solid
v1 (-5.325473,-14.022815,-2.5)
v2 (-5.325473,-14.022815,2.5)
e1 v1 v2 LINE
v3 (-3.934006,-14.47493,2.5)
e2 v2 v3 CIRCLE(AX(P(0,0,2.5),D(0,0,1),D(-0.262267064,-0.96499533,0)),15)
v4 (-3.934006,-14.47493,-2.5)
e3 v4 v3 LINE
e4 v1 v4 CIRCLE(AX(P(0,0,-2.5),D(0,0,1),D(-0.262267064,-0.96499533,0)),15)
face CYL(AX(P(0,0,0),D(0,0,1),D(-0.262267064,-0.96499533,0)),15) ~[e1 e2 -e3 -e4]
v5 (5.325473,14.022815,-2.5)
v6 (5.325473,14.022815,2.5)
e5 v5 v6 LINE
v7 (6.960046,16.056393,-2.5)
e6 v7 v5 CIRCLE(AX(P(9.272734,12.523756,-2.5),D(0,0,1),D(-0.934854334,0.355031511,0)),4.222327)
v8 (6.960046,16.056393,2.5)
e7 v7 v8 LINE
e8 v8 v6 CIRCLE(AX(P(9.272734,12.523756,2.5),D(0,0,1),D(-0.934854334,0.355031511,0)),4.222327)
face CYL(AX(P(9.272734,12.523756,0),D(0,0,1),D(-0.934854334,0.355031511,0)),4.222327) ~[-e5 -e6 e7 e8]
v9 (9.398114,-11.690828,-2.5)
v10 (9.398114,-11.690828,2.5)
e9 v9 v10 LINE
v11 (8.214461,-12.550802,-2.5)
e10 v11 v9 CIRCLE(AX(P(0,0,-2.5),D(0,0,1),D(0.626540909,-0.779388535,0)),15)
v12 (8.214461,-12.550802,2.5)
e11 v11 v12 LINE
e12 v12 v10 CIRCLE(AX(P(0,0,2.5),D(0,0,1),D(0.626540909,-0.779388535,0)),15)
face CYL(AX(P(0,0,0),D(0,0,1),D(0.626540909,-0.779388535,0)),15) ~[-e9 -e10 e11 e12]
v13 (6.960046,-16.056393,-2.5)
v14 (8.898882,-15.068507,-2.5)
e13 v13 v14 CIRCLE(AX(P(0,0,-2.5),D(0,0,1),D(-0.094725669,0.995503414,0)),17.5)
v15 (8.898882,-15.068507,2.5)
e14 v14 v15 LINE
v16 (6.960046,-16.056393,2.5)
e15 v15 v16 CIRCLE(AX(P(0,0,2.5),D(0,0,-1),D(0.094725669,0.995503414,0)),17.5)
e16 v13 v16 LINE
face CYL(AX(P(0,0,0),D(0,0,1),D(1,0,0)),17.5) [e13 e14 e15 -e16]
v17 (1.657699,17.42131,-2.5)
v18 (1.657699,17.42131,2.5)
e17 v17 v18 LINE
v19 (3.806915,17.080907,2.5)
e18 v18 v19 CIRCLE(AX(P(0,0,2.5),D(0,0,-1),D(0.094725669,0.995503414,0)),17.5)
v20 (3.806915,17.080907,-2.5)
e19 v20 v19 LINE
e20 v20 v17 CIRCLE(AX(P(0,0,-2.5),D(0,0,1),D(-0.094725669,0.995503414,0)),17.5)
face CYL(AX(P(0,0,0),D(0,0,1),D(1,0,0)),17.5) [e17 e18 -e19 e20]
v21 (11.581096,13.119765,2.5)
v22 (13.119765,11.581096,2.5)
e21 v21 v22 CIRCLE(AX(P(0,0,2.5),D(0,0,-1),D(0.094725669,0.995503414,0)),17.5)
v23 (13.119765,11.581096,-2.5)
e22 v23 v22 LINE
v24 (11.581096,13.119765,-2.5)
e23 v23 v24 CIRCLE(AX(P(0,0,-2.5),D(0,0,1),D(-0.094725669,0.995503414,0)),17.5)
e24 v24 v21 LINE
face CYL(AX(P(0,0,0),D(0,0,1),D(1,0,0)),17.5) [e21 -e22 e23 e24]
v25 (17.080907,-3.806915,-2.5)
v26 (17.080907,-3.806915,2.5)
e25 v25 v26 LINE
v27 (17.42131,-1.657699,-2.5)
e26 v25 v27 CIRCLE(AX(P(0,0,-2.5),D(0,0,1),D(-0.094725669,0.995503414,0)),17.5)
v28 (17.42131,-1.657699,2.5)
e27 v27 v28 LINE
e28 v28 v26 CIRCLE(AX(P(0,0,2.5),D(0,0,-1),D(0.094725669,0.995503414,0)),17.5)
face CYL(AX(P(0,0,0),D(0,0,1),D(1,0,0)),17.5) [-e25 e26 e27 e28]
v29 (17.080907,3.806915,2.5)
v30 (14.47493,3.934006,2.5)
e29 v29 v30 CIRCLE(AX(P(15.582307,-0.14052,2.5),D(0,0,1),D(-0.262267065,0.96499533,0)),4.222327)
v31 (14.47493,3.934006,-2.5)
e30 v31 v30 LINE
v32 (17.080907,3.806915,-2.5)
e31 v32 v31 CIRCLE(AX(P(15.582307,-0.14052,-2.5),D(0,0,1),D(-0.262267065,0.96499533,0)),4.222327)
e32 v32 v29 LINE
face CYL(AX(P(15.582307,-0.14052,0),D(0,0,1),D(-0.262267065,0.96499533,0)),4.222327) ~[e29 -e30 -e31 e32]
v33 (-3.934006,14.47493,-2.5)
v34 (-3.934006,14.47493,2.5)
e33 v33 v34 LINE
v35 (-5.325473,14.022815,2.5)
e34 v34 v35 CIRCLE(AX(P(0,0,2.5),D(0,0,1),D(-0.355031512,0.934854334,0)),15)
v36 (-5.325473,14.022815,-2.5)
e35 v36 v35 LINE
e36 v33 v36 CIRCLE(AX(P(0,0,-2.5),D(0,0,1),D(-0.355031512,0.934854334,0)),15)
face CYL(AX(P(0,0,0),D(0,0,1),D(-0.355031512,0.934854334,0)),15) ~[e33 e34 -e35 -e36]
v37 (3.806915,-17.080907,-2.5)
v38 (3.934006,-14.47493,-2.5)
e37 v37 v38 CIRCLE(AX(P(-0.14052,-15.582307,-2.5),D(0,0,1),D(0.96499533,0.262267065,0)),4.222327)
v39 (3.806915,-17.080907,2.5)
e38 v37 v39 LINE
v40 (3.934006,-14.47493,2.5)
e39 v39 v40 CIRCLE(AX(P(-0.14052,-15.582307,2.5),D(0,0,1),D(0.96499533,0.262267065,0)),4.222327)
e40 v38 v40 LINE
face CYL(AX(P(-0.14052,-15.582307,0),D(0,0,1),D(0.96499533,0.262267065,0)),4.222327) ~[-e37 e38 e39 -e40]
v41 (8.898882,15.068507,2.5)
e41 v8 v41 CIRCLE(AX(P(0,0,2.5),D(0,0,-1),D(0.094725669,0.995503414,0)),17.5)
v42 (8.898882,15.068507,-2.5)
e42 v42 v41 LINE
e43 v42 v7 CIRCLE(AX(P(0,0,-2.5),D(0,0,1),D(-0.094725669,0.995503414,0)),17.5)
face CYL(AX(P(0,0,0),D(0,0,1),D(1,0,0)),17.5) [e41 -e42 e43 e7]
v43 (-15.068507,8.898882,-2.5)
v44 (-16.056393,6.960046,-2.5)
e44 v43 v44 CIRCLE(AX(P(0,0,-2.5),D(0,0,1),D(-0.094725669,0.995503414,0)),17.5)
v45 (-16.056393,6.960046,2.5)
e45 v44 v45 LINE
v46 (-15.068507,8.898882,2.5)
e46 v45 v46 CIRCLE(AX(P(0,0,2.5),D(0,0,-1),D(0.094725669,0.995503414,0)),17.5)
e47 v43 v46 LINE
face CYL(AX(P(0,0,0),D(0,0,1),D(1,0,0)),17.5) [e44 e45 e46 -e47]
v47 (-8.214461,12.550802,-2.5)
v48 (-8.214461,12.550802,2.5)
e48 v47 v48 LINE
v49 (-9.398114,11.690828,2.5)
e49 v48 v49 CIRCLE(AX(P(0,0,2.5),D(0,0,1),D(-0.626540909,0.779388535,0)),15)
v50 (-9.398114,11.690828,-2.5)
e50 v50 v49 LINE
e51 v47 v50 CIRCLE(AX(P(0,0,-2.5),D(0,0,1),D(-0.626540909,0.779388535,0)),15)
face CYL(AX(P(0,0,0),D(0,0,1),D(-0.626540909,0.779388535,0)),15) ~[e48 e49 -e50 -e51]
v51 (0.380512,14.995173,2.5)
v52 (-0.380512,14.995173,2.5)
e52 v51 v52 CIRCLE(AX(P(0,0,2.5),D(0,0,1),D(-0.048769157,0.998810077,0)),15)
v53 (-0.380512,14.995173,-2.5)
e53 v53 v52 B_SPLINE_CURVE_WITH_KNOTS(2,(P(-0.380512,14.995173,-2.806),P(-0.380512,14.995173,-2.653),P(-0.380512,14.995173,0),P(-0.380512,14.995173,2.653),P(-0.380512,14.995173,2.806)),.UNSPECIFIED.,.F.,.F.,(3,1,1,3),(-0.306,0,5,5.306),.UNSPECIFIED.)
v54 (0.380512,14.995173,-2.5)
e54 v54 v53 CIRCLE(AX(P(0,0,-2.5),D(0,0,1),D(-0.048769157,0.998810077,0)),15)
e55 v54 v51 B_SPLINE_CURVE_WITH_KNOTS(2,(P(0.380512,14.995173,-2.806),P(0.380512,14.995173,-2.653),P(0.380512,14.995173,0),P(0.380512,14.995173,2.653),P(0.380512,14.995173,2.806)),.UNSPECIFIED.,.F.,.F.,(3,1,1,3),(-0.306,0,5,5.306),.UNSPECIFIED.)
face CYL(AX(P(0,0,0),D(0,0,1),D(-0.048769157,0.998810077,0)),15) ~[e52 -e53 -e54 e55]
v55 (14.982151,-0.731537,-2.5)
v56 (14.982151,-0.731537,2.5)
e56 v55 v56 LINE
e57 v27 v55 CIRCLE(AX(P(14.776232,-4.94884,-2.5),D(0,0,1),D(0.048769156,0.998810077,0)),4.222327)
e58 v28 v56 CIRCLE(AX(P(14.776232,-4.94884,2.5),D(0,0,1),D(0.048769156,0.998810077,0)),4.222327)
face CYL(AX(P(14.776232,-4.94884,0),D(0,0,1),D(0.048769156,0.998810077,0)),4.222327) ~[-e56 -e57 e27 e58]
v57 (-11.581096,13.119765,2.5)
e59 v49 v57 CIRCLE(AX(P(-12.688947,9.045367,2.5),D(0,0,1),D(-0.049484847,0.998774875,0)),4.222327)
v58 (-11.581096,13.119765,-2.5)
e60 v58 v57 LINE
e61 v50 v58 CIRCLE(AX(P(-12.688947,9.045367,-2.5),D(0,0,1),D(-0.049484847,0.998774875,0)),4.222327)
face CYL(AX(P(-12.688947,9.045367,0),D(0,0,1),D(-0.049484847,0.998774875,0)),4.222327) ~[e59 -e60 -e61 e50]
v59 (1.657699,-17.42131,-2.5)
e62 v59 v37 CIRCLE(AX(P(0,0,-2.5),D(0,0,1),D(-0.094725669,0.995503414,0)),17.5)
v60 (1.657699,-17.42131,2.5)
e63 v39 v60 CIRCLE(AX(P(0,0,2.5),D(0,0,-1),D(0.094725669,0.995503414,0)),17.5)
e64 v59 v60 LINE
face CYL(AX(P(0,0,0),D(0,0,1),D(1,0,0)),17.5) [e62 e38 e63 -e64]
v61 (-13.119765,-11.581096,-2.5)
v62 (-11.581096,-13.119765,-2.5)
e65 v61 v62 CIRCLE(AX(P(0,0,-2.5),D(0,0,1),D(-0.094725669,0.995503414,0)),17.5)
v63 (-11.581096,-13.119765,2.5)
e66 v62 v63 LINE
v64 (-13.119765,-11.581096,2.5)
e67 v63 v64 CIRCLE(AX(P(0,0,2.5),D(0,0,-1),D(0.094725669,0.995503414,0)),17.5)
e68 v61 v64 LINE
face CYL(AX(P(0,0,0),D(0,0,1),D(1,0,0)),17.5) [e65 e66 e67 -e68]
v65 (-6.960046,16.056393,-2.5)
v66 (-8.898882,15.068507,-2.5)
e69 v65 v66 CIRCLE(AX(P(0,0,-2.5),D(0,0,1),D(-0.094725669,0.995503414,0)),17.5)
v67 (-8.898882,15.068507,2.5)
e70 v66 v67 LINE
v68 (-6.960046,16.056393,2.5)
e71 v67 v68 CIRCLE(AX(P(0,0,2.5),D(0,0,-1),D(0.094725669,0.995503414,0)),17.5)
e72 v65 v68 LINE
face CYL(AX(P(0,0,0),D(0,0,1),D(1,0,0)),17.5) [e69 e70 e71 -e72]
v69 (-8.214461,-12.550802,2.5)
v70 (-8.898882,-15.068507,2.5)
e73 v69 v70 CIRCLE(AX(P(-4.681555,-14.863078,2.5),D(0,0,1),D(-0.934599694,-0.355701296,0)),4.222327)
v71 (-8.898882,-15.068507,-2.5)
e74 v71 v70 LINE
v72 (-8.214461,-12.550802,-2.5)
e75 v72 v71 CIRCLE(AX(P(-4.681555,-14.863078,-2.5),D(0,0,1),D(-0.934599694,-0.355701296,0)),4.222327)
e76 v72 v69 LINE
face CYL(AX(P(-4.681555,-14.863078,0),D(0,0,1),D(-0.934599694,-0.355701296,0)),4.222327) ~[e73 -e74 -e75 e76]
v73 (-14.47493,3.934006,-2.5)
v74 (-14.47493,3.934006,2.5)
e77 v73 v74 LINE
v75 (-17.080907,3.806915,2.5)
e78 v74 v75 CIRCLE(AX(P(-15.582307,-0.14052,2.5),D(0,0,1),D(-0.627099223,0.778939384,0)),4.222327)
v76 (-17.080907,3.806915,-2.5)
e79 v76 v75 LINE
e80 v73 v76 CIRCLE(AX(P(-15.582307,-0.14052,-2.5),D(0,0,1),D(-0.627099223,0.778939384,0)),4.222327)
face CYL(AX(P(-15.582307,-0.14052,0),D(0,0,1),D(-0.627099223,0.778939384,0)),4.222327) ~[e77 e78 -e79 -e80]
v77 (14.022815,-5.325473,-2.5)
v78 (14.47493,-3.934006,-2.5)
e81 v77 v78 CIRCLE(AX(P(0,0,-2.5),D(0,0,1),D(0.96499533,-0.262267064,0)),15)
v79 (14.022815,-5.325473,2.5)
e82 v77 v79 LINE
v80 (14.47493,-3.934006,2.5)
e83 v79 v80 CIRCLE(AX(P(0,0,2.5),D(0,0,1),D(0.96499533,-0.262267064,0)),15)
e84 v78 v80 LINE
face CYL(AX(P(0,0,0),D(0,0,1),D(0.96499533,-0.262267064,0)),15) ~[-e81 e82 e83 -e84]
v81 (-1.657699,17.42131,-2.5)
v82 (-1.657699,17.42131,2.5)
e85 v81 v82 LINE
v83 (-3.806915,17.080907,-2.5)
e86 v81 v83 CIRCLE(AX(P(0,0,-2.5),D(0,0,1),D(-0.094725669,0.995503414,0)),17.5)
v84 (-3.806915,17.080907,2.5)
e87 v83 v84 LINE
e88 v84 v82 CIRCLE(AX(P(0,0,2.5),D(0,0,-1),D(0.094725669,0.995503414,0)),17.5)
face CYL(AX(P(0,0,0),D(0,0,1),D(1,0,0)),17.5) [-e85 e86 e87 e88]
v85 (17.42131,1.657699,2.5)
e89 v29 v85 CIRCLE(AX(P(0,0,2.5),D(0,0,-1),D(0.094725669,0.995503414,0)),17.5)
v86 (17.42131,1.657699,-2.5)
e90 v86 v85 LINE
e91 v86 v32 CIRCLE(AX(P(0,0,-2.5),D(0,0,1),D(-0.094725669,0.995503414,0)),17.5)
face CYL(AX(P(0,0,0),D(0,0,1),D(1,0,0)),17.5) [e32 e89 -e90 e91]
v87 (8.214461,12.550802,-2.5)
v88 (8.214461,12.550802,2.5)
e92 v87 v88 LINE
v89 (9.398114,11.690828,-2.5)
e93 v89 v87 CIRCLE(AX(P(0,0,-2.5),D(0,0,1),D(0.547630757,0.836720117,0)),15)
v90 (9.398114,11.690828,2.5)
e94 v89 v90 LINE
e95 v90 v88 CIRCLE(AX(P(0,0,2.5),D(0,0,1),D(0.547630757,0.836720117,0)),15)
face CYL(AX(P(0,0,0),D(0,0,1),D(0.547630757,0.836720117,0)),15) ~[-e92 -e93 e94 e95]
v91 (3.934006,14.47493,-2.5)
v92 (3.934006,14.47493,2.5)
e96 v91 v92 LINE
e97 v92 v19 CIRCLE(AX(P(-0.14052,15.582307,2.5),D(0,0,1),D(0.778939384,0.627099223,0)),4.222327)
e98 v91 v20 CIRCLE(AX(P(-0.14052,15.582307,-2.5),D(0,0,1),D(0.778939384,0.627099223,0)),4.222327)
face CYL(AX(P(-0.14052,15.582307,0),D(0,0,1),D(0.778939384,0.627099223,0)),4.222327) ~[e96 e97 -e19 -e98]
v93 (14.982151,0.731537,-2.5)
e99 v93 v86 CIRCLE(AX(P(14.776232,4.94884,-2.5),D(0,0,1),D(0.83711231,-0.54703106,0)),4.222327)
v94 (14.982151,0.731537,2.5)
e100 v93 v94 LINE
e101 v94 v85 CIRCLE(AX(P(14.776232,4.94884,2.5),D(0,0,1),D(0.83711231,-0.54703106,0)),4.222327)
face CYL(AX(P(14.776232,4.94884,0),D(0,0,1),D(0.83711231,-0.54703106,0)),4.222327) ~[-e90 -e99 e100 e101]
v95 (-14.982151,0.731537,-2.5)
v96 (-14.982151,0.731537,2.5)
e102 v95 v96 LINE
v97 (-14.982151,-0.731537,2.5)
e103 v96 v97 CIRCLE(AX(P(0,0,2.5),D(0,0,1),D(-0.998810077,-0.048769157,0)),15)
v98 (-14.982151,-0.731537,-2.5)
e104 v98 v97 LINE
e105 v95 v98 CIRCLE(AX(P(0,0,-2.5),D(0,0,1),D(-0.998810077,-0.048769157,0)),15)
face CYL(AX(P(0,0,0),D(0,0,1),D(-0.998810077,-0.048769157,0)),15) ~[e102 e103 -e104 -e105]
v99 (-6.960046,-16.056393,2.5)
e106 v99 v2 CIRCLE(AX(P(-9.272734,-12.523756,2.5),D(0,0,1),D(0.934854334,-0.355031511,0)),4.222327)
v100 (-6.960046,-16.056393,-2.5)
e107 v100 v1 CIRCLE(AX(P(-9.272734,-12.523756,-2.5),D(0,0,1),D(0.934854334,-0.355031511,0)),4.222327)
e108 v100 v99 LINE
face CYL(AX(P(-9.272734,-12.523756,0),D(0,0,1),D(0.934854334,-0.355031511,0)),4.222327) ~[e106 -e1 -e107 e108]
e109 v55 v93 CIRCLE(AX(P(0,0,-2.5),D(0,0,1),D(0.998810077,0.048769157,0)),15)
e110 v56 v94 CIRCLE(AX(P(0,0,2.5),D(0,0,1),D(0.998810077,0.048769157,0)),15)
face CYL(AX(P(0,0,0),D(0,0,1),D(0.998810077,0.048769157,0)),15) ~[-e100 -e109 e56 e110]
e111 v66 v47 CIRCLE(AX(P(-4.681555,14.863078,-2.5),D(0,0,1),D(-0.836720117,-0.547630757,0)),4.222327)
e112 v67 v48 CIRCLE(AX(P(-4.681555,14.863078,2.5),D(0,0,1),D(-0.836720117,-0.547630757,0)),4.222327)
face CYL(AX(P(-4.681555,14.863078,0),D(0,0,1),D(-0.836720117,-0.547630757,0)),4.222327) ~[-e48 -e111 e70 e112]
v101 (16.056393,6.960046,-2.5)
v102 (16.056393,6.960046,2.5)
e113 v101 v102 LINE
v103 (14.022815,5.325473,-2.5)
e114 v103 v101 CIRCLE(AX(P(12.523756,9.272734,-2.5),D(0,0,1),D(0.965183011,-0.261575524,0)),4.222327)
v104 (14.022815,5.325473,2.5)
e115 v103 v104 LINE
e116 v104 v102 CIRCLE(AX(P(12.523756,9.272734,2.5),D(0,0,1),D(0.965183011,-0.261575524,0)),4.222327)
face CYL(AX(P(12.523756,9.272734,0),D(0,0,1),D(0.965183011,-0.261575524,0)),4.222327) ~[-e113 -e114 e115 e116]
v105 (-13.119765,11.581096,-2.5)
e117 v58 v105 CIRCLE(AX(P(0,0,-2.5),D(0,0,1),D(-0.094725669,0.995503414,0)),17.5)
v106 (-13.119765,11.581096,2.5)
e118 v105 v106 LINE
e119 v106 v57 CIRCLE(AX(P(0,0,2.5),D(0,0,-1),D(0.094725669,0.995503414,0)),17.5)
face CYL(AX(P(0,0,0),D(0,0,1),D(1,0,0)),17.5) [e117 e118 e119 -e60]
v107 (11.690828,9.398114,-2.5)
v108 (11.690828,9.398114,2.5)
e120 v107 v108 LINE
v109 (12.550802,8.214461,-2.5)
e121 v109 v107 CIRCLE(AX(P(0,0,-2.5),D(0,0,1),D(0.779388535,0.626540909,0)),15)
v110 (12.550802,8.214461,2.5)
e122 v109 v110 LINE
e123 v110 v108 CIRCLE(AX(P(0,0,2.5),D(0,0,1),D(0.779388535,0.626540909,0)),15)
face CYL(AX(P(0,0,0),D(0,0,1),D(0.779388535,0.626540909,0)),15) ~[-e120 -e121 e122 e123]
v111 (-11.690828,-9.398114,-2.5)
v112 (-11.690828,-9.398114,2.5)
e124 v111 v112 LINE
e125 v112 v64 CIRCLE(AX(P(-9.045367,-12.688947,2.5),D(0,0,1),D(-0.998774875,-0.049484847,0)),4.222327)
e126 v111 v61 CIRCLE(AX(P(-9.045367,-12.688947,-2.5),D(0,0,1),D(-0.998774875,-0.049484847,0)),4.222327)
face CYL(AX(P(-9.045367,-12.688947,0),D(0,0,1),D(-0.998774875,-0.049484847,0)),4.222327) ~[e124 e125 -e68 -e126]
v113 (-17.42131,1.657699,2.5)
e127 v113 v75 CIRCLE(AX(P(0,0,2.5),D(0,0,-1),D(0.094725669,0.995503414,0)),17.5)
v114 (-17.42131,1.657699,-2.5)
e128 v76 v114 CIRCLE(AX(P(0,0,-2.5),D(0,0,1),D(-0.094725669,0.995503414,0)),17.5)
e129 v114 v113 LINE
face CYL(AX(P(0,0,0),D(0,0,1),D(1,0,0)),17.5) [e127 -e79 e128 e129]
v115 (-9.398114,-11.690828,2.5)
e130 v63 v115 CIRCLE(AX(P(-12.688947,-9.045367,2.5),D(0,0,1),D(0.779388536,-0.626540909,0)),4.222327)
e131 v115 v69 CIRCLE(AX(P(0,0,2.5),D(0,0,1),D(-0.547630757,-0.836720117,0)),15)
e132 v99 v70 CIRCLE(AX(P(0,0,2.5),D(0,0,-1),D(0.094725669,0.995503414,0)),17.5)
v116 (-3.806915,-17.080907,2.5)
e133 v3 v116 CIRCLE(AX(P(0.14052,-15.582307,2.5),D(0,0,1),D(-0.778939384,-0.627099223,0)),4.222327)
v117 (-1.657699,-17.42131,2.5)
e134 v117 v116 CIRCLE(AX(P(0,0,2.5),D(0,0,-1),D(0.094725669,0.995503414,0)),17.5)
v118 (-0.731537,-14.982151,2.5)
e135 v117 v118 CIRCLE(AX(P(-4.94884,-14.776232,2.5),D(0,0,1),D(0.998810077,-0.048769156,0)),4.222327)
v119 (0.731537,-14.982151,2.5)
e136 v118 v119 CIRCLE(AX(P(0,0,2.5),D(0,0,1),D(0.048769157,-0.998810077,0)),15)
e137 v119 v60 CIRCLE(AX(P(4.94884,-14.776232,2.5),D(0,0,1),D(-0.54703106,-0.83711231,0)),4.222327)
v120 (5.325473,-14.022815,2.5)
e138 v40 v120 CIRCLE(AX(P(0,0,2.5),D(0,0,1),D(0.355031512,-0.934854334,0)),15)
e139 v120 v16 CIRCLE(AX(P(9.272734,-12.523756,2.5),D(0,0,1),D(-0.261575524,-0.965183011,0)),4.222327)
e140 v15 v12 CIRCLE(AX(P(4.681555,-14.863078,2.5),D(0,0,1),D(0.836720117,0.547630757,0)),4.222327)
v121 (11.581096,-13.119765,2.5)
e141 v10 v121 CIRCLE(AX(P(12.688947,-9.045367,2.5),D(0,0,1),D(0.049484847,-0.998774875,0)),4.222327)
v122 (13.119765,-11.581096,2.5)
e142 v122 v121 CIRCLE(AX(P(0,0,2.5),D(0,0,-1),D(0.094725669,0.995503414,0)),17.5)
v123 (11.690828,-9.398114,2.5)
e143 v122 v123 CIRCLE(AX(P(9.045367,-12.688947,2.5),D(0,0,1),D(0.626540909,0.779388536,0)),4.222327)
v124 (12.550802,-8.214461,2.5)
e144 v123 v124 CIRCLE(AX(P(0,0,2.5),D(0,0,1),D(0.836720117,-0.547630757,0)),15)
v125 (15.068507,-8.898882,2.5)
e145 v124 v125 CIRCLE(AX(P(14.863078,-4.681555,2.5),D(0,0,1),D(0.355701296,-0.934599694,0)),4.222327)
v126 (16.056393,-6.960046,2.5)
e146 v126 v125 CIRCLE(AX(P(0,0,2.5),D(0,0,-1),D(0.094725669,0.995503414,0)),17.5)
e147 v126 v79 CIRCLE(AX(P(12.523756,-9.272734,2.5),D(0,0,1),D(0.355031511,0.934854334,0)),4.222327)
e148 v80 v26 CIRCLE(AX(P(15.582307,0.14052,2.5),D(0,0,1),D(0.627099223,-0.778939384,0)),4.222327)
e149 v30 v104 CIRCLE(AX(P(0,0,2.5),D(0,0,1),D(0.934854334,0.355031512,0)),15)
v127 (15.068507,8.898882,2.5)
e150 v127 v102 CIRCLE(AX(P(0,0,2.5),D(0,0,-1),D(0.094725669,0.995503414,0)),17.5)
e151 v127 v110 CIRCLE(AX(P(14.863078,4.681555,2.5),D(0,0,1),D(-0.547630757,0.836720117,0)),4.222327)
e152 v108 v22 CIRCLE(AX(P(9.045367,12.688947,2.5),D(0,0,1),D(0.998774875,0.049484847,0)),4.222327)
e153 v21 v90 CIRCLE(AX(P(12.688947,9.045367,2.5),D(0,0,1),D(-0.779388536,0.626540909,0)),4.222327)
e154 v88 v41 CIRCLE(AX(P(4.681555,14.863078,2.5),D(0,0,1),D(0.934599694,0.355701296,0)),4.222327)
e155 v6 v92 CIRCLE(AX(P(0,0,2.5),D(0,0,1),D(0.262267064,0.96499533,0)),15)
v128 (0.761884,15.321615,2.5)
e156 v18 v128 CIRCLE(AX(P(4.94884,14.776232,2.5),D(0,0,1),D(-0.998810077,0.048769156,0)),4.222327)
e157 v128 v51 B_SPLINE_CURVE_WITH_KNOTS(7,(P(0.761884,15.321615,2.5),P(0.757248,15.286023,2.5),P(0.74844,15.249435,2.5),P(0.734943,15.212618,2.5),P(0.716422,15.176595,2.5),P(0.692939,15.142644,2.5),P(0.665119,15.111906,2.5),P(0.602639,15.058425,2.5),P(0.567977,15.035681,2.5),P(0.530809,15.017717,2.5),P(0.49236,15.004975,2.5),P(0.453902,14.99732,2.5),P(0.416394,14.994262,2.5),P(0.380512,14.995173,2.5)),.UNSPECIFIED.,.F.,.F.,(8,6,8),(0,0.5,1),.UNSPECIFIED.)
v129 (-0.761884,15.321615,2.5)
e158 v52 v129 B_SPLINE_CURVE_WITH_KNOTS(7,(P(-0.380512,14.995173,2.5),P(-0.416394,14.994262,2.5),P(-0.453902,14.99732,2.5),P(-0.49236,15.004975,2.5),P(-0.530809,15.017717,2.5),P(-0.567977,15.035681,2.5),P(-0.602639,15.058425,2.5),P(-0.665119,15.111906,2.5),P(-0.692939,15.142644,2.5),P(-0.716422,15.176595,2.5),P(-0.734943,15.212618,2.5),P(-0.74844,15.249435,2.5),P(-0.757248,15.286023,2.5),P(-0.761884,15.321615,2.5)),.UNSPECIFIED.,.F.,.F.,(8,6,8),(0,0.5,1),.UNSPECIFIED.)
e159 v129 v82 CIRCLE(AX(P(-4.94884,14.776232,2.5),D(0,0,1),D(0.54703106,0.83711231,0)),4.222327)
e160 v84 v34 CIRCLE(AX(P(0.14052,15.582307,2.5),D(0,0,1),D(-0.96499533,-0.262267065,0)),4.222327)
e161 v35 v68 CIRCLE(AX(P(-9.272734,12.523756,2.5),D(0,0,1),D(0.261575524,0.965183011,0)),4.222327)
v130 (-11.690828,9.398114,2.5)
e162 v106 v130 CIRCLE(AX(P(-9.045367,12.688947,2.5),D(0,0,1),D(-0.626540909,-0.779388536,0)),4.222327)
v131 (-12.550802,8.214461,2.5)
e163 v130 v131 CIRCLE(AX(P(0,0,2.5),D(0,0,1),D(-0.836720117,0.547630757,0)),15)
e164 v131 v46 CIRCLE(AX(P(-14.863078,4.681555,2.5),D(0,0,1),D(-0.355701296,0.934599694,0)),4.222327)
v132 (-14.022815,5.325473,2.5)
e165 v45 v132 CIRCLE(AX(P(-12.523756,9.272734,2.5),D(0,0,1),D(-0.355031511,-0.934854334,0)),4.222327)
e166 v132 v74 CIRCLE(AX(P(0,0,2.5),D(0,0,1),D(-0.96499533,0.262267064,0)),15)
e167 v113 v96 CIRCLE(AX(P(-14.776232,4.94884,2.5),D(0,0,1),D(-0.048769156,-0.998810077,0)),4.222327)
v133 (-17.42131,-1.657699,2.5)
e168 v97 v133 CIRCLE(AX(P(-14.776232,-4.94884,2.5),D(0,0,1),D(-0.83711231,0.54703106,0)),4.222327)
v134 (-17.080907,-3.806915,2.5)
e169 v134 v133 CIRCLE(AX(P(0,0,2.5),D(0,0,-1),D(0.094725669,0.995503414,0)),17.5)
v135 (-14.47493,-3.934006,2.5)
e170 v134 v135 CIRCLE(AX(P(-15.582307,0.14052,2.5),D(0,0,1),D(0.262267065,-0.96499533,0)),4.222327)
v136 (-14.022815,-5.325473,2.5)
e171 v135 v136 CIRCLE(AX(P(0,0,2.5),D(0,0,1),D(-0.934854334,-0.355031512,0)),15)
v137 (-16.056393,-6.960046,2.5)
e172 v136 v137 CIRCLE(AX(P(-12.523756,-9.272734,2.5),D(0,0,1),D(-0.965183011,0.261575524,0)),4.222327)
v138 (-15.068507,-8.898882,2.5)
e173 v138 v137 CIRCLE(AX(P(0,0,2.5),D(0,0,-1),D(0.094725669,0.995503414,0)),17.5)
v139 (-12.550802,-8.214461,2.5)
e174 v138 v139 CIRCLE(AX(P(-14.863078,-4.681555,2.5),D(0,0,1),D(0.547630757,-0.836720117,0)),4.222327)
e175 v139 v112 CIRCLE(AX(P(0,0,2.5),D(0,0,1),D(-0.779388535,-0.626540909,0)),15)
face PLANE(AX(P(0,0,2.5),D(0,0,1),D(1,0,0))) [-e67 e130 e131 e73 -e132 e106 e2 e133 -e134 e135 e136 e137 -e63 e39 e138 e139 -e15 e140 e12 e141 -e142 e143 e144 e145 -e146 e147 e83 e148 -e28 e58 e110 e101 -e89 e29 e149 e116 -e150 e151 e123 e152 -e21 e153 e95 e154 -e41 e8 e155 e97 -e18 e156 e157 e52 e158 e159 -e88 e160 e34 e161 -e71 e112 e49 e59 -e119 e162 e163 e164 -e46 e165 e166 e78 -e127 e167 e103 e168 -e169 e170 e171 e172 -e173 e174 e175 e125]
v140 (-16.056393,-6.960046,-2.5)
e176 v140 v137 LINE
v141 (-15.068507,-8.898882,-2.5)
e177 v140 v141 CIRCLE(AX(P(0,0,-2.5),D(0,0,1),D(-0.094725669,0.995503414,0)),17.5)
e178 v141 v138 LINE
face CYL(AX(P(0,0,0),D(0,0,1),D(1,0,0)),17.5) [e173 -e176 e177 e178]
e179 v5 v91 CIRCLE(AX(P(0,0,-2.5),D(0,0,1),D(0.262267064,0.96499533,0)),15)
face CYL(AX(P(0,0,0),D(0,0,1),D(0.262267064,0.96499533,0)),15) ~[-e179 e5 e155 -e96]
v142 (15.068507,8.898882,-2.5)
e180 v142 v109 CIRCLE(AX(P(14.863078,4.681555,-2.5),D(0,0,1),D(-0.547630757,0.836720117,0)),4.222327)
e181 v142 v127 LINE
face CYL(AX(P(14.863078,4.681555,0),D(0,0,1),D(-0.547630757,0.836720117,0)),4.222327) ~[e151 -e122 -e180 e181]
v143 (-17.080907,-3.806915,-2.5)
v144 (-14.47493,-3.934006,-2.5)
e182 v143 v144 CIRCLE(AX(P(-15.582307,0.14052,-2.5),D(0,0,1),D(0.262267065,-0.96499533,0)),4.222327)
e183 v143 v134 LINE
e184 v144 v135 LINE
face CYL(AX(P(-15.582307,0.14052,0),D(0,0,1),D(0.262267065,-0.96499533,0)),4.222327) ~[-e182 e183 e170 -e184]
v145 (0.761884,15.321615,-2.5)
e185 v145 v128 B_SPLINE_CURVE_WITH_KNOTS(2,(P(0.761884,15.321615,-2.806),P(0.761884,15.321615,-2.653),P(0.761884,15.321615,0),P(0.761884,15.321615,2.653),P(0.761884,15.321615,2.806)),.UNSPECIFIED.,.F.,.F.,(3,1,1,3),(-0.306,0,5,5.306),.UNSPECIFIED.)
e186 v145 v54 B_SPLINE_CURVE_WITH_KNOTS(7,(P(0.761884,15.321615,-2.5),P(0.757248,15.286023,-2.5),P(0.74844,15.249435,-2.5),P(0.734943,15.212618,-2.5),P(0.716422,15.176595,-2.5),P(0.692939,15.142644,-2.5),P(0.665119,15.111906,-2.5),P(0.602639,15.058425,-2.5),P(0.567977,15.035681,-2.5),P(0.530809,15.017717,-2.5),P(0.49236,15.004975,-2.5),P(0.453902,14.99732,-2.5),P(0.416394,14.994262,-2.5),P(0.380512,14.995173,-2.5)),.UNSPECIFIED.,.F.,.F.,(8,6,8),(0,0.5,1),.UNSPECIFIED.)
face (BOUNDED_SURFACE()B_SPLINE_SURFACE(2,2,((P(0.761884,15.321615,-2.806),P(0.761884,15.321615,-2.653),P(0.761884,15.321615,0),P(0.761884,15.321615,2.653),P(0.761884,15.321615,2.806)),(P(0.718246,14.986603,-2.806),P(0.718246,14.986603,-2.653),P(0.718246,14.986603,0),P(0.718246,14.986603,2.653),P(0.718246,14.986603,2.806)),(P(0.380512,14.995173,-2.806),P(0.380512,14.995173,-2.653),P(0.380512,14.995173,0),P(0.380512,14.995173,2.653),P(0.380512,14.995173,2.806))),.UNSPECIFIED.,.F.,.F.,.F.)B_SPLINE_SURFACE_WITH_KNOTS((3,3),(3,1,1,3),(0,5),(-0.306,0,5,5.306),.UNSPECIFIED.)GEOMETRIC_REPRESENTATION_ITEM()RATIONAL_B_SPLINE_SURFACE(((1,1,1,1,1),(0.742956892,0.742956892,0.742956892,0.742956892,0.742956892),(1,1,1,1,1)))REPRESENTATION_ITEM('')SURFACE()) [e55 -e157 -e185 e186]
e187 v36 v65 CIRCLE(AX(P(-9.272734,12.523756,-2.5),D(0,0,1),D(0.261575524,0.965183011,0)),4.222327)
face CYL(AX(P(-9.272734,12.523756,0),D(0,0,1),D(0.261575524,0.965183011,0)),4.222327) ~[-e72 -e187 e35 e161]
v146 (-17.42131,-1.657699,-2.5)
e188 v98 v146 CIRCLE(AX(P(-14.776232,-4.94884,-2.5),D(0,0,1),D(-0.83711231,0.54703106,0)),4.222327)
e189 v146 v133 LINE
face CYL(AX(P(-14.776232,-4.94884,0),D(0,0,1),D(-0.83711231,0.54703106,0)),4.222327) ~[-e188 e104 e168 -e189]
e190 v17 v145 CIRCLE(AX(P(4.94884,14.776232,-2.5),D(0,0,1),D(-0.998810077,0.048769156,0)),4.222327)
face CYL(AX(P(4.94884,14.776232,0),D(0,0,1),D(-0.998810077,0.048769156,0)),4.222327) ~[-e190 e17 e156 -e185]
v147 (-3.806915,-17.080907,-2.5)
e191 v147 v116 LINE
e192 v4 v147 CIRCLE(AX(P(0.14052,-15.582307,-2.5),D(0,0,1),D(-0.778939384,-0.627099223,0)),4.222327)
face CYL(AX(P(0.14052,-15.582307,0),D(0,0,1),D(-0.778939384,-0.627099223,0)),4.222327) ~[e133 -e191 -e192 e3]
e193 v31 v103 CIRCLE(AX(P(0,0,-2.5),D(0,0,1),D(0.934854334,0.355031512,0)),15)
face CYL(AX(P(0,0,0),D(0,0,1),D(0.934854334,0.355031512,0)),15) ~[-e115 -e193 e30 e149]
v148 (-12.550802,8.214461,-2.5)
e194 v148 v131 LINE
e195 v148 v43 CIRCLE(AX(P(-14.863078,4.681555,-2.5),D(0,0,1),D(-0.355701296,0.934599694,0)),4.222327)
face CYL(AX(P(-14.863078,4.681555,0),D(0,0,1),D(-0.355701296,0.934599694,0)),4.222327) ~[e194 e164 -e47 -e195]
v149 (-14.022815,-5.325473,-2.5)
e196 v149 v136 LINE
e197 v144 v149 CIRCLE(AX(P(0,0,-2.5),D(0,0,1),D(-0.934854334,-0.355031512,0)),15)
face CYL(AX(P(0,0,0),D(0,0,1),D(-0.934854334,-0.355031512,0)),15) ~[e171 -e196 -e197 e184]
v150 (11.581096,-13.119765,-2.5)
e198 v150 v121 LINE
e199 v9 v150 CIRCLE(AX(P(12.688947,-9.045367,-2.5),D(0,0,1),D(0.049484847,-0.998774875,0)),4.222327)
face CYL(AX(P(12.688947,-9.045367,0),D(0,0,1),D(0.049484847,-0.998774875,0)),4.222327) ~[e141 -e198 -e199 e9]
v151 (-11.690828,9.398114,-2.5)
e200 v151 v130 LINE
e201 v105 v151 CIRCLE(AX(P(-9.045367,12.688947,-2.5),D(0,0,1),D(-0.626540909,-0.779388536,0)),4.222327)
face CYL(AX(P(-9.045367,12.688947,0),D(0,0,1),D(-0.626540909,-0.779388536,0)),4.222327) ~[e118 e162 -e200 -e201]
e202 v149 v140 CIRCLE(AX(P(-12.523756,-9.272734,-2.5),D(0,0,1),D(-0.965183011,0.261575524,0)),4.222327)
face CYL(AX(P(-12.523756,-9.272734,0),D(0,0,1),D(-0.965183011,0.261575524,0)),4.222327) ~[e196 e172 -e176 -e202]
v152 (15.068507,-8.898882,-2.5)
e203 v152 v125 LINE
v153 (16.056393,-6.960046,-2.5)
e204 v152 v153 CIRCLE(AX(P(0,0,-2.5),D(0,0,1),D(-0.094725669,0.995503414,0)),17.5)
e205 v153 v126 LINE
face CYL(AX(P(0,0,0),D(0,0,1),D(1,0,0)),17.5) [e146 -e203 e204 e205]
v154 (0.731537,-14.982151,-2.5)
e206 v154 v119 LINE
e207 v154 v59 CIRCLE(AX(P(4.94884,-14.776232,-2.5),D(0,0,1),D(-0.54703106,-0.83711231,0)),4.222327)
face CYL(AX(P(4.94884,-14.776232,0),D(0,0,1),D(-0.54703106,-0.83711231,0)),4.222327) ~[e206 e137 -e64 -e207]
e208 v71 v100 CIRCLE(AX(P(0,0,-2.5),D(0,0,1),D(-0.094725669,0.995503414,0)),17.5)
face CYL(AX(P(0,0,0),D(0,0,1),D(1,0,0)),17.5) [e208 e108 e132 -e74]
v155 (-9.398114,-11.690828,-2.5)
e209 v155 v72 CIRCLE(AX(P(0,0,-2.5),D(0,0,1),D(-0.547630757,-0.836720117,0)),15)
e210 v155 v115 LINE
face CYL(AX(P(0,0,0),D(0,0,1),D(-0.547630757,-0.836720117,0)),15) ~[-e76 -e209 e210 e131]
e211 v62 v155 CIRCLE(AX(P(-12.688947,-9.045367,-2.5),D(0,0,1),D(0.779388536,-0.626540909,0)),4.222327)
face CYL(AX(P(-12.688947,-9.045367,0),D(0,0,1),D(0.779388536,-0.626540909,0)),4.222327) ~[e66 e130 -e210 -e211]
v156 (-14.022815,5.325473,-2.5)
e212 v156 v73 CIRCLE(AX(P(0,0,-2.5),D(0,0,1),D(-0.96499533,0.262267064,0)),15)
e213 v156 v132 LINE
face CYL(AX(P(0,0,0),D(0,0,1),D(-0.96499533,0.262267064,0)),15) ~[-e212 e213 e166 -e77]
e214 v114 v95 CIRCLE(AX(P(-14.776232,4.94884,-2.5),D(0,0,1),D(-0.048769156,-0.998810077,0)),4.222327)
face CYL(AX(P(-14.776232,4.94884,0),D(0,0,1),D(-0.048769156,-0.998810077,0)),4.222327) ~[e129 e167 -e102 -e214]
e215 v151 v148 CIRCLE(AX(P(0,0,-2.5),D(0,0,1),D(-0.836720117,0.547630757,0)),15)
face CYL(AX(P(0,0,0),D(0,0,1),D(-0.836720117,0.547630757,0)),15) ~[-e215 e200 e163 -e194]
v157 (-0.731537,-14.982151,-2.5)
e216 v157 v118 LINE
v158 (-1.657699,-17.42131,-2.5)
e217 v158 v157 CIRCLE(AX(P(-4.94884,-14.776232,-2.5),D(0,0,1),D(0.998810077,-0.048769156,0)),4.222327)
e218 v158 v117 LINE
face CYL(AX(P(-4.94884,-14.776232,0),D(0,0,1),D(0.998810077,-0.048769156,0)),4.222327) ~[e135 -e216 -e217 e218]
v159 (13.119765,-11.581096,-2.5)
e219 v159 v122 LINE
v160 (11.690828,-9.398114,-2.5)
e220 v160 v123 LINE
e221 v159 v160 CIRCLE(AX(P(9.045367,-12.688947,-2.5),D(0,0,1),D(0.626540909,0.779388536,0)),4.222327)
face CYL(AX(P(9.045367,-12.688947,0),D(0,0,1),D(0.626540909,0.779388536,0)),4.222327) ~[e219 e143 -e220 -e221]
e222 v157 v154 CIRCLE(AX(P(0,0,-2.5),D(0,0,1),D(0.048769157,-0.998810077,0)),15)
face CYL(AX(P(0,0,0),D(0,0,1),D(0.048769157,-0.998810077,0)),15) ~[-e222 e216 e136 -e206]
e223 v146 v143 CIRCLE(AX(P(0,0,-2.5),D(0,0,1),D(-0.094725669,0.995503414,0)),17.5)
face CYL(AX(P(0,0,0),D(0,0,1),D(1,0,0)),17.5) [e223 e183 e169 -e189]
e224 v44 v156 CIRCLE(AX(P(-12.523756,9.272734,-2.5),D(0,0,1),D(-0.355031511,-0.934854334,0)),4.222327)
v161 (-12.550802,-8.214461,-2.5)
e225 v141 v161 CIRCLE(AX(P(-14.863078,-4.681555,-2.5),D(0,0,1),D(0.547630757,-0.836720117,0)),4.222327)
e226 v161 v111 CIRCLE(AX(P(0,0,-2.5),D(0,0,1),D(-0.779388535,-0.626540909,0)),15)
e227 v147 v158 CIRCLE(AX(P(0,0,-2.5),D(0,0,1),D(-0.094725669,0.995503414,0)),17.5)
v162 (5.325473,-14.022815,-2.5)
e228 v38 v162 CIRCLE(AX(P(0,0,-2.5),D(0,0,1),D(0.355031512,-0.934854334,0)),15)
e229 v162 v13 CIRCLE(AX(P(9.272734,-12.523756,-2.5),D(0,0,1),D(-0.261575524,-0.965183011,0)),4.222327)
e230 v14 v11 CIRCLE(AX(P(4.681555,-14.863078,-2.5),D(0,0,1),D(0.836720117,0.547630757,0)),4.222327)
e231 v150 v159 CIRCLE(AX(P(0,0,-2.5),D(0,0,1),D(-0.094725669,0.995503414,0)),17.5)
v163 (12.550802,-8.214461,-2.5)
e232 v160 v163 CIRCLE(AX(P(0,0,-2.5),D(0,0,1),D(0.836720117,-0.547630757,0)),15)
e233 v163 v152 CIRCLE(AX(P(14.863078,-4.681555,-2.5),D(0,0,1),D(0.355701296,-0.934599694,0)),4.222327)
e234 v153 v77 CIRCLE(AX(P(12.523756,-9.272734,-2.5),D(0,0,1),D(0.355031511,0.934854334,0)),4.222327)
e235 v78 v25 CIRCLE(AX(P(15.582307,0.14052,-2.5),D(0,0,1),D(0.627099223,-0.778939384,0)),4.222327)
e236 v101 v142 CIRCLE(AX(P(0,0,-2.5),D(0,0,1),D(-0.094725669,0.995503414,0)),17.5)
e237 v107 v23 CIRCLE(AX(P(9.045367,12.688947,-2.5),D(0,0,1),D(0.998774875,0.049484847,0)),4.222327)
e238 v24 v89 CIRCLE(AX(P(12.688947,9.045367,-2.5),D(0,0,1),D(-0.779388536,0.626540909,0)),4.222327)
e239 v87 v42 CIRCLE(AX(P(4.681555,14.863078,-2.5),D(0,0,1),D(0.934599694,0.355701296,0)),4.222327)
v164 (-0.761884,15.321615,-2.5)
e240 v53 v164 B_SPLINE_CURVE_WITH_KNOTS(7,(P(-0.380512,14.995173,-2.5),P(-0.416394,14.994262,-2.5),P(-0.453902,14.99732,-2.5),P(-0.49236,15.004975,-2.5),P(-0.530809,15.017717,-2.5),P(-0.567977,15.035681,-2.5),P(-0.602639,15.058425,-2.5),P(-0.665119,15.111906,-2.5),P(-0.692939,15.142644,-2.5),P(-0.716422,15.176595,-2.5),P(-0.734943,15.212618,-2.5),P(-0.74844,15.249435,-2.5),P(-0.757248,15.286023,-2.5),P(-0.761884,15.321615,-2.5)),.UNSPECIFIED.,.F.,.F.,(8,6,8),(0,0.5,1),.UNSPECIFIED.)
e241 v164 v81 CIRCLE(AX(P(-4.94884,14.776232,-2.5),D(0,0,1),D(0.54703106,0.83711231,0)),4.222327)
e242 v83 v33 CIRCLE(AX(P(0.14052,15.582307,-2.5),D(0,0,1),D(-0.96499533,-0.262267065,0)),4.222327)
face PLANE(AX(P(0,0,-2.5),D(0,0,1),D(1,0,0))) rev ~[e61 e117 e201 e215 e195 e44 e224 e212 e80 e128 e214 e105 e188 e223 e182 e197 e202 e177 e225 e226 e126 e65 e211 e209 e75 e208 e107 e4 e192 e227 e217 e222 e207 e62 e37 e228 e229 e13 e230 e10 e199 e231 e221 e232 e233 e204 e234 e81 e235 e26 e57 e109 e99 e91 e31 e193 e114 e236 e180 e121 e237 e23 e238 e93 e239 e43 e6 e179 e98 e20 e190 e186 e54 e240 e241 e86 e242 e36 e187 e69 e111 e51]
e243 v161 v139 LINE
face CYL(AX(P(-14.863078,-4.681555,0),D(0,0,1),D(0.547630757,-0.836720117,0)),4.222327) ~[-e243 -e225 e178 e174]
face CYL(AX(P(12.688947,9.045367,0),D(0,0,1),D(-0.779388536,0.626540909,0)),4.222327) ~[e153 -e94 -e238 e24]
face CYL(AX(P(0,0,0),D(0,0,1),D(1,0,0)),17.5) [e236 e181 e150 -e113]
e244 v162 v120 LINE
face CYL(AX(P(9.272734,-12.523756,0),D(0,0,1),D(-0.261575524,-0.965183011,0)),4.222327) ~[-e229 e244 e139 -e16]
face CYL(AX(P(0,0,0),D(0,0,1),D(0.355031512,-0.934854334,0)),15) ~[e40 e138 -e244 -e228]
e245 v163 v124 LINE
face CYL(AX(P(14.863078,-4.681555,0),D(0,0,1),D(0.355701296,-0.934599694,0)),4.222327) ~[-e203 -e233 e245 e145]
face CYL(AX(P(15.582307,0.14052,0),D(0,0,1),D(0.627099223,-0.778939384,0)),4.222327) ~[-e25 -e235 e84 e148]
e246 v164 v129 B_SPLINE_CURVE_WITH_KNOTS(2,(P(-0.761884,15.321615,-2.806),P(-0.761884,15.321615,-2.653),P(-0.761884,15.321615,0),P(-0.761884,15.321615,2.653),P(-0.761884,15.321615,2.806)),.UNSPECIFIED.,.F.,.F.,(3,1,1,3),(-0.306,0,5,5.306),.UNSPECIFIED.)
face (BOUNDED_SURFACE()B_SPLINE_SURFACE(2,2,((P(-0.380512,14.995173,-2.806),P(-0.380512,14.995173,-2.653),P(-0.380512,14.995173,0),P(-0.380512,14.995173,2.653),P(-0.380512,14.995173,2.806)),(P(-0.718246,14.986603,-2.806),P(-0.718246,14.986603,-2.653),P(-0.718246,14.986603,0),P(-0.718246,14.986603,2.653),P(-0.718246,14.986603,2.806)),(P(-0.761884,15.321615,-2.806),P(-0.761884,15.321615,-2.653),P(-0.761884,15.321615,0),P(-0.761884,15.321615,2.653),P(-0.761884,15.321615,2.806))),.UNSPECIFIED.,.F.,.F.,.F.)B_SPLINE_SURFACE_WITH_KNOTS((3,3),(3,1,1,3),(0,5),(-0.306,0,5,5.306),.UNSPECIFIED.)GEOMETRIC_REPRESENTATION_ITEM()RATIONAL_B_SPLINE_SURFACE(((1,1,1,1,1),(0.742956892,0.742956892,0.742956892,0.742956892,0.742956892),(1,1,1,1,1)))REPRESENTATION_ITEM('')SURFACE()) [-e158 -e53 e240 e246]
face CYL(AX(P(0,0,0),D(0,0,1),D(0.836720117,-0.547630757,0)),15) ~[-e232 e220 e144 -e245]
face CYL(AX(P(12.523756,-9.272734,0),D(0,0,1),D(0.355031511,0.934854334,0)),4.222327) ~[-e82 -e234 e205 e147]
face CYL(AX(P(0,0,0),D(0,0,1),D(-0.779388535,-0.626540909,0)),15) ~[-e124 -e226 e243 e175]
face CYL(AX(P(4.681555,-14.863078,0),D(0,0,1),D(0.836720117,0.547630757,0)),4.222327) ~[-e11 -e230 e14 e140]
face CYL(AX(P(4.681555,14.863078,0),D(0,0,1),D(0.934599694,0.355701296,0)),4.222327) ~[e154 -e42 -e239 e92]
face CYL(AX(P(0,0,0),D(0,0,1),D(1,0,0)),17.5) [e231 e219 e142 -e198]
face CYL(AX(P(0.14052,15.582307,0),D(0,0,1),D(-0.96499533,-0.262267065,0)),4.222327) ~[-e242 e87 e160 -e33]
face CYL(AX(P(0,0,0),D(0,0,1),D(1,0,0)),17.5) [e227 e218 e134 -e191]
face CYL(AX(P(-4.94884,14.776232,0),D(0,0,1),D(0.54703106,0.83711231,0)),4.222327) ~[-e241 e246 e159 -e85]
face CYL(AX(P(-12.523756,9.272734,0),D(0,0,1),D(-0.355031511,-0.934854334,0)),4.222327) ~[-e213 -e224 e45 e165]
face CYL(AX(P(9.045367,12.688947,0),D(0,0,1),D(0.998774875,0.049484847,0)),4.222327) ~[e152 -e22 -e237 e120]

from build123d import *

# Parameters (mm, degrees)
SKETCH1_R           = 17.5
BOSS_EXTRUDE1_DEPTH = 2.5
CUT_EXTRUDE1_DEPTH  = 25.874685928
FILLET2_R           = 0.375
CIRPATTERN1_COUNT   = 20


with BuildPart() as part:
    # Sketch1 → Boss-Extrude1 (new, symmetric)
    with BuildSketch(Plane.XY):
        Circle(SKETCH1_R)
    extrude(amount=BOSS_EXTRUDE1_DEPTH, both=True)

    # Sketch3 → Cut-Extrude1 (cut, symmetric)
    with BuildSketch(Plane.XY):
        with BuildLine():
            ThreePointArc((-2.639096151, 18.310793852), (-1.2854332, 16.875635392), (-0.731537344, 14.982151151))
            ThreePointArc((-0.731537344, 14.982151151), (0, 15), (0.731537344, 14.982151151))
            ThreePointArc((0.731537344, 14.982151151), (1.2854332, 16.875635392), (2.639096151, 18.310793852))
            ThreePointArc((2.639096151, 18.310793852), (0, 18.5), (-2.639096151, 18.310793852))
        make_face()
    cut_extrude1 = extrude(amount=CUT_EXTRUDE1_DEPTH, both=True, mode=Mode.SUBTRACT)

    # Fillet2
    fillet2_edges = [part.edges().sort_by_distance(p)[0] for p in [
        (-0.731537344, 14.982151151, 0),
        (0.731537344, 14.982151151, 0),
    ]]
    fillet(fillet2_edges, radius=FILLET2_R)

    # CirPattern1: Cut-Extrude1 ×20 about axis
    cirpattern1_axis = Axis((0, 0, 0), (0, 0, 1))
    for i in range(1, CIRPATTERN1_COUNT):
        add(cut_extrude1.rotate(cirpattern1_axis, i * 360 / CIRPATTERN1_COUNT), mode=Mode.SUBTRACT)


solid = part.part
